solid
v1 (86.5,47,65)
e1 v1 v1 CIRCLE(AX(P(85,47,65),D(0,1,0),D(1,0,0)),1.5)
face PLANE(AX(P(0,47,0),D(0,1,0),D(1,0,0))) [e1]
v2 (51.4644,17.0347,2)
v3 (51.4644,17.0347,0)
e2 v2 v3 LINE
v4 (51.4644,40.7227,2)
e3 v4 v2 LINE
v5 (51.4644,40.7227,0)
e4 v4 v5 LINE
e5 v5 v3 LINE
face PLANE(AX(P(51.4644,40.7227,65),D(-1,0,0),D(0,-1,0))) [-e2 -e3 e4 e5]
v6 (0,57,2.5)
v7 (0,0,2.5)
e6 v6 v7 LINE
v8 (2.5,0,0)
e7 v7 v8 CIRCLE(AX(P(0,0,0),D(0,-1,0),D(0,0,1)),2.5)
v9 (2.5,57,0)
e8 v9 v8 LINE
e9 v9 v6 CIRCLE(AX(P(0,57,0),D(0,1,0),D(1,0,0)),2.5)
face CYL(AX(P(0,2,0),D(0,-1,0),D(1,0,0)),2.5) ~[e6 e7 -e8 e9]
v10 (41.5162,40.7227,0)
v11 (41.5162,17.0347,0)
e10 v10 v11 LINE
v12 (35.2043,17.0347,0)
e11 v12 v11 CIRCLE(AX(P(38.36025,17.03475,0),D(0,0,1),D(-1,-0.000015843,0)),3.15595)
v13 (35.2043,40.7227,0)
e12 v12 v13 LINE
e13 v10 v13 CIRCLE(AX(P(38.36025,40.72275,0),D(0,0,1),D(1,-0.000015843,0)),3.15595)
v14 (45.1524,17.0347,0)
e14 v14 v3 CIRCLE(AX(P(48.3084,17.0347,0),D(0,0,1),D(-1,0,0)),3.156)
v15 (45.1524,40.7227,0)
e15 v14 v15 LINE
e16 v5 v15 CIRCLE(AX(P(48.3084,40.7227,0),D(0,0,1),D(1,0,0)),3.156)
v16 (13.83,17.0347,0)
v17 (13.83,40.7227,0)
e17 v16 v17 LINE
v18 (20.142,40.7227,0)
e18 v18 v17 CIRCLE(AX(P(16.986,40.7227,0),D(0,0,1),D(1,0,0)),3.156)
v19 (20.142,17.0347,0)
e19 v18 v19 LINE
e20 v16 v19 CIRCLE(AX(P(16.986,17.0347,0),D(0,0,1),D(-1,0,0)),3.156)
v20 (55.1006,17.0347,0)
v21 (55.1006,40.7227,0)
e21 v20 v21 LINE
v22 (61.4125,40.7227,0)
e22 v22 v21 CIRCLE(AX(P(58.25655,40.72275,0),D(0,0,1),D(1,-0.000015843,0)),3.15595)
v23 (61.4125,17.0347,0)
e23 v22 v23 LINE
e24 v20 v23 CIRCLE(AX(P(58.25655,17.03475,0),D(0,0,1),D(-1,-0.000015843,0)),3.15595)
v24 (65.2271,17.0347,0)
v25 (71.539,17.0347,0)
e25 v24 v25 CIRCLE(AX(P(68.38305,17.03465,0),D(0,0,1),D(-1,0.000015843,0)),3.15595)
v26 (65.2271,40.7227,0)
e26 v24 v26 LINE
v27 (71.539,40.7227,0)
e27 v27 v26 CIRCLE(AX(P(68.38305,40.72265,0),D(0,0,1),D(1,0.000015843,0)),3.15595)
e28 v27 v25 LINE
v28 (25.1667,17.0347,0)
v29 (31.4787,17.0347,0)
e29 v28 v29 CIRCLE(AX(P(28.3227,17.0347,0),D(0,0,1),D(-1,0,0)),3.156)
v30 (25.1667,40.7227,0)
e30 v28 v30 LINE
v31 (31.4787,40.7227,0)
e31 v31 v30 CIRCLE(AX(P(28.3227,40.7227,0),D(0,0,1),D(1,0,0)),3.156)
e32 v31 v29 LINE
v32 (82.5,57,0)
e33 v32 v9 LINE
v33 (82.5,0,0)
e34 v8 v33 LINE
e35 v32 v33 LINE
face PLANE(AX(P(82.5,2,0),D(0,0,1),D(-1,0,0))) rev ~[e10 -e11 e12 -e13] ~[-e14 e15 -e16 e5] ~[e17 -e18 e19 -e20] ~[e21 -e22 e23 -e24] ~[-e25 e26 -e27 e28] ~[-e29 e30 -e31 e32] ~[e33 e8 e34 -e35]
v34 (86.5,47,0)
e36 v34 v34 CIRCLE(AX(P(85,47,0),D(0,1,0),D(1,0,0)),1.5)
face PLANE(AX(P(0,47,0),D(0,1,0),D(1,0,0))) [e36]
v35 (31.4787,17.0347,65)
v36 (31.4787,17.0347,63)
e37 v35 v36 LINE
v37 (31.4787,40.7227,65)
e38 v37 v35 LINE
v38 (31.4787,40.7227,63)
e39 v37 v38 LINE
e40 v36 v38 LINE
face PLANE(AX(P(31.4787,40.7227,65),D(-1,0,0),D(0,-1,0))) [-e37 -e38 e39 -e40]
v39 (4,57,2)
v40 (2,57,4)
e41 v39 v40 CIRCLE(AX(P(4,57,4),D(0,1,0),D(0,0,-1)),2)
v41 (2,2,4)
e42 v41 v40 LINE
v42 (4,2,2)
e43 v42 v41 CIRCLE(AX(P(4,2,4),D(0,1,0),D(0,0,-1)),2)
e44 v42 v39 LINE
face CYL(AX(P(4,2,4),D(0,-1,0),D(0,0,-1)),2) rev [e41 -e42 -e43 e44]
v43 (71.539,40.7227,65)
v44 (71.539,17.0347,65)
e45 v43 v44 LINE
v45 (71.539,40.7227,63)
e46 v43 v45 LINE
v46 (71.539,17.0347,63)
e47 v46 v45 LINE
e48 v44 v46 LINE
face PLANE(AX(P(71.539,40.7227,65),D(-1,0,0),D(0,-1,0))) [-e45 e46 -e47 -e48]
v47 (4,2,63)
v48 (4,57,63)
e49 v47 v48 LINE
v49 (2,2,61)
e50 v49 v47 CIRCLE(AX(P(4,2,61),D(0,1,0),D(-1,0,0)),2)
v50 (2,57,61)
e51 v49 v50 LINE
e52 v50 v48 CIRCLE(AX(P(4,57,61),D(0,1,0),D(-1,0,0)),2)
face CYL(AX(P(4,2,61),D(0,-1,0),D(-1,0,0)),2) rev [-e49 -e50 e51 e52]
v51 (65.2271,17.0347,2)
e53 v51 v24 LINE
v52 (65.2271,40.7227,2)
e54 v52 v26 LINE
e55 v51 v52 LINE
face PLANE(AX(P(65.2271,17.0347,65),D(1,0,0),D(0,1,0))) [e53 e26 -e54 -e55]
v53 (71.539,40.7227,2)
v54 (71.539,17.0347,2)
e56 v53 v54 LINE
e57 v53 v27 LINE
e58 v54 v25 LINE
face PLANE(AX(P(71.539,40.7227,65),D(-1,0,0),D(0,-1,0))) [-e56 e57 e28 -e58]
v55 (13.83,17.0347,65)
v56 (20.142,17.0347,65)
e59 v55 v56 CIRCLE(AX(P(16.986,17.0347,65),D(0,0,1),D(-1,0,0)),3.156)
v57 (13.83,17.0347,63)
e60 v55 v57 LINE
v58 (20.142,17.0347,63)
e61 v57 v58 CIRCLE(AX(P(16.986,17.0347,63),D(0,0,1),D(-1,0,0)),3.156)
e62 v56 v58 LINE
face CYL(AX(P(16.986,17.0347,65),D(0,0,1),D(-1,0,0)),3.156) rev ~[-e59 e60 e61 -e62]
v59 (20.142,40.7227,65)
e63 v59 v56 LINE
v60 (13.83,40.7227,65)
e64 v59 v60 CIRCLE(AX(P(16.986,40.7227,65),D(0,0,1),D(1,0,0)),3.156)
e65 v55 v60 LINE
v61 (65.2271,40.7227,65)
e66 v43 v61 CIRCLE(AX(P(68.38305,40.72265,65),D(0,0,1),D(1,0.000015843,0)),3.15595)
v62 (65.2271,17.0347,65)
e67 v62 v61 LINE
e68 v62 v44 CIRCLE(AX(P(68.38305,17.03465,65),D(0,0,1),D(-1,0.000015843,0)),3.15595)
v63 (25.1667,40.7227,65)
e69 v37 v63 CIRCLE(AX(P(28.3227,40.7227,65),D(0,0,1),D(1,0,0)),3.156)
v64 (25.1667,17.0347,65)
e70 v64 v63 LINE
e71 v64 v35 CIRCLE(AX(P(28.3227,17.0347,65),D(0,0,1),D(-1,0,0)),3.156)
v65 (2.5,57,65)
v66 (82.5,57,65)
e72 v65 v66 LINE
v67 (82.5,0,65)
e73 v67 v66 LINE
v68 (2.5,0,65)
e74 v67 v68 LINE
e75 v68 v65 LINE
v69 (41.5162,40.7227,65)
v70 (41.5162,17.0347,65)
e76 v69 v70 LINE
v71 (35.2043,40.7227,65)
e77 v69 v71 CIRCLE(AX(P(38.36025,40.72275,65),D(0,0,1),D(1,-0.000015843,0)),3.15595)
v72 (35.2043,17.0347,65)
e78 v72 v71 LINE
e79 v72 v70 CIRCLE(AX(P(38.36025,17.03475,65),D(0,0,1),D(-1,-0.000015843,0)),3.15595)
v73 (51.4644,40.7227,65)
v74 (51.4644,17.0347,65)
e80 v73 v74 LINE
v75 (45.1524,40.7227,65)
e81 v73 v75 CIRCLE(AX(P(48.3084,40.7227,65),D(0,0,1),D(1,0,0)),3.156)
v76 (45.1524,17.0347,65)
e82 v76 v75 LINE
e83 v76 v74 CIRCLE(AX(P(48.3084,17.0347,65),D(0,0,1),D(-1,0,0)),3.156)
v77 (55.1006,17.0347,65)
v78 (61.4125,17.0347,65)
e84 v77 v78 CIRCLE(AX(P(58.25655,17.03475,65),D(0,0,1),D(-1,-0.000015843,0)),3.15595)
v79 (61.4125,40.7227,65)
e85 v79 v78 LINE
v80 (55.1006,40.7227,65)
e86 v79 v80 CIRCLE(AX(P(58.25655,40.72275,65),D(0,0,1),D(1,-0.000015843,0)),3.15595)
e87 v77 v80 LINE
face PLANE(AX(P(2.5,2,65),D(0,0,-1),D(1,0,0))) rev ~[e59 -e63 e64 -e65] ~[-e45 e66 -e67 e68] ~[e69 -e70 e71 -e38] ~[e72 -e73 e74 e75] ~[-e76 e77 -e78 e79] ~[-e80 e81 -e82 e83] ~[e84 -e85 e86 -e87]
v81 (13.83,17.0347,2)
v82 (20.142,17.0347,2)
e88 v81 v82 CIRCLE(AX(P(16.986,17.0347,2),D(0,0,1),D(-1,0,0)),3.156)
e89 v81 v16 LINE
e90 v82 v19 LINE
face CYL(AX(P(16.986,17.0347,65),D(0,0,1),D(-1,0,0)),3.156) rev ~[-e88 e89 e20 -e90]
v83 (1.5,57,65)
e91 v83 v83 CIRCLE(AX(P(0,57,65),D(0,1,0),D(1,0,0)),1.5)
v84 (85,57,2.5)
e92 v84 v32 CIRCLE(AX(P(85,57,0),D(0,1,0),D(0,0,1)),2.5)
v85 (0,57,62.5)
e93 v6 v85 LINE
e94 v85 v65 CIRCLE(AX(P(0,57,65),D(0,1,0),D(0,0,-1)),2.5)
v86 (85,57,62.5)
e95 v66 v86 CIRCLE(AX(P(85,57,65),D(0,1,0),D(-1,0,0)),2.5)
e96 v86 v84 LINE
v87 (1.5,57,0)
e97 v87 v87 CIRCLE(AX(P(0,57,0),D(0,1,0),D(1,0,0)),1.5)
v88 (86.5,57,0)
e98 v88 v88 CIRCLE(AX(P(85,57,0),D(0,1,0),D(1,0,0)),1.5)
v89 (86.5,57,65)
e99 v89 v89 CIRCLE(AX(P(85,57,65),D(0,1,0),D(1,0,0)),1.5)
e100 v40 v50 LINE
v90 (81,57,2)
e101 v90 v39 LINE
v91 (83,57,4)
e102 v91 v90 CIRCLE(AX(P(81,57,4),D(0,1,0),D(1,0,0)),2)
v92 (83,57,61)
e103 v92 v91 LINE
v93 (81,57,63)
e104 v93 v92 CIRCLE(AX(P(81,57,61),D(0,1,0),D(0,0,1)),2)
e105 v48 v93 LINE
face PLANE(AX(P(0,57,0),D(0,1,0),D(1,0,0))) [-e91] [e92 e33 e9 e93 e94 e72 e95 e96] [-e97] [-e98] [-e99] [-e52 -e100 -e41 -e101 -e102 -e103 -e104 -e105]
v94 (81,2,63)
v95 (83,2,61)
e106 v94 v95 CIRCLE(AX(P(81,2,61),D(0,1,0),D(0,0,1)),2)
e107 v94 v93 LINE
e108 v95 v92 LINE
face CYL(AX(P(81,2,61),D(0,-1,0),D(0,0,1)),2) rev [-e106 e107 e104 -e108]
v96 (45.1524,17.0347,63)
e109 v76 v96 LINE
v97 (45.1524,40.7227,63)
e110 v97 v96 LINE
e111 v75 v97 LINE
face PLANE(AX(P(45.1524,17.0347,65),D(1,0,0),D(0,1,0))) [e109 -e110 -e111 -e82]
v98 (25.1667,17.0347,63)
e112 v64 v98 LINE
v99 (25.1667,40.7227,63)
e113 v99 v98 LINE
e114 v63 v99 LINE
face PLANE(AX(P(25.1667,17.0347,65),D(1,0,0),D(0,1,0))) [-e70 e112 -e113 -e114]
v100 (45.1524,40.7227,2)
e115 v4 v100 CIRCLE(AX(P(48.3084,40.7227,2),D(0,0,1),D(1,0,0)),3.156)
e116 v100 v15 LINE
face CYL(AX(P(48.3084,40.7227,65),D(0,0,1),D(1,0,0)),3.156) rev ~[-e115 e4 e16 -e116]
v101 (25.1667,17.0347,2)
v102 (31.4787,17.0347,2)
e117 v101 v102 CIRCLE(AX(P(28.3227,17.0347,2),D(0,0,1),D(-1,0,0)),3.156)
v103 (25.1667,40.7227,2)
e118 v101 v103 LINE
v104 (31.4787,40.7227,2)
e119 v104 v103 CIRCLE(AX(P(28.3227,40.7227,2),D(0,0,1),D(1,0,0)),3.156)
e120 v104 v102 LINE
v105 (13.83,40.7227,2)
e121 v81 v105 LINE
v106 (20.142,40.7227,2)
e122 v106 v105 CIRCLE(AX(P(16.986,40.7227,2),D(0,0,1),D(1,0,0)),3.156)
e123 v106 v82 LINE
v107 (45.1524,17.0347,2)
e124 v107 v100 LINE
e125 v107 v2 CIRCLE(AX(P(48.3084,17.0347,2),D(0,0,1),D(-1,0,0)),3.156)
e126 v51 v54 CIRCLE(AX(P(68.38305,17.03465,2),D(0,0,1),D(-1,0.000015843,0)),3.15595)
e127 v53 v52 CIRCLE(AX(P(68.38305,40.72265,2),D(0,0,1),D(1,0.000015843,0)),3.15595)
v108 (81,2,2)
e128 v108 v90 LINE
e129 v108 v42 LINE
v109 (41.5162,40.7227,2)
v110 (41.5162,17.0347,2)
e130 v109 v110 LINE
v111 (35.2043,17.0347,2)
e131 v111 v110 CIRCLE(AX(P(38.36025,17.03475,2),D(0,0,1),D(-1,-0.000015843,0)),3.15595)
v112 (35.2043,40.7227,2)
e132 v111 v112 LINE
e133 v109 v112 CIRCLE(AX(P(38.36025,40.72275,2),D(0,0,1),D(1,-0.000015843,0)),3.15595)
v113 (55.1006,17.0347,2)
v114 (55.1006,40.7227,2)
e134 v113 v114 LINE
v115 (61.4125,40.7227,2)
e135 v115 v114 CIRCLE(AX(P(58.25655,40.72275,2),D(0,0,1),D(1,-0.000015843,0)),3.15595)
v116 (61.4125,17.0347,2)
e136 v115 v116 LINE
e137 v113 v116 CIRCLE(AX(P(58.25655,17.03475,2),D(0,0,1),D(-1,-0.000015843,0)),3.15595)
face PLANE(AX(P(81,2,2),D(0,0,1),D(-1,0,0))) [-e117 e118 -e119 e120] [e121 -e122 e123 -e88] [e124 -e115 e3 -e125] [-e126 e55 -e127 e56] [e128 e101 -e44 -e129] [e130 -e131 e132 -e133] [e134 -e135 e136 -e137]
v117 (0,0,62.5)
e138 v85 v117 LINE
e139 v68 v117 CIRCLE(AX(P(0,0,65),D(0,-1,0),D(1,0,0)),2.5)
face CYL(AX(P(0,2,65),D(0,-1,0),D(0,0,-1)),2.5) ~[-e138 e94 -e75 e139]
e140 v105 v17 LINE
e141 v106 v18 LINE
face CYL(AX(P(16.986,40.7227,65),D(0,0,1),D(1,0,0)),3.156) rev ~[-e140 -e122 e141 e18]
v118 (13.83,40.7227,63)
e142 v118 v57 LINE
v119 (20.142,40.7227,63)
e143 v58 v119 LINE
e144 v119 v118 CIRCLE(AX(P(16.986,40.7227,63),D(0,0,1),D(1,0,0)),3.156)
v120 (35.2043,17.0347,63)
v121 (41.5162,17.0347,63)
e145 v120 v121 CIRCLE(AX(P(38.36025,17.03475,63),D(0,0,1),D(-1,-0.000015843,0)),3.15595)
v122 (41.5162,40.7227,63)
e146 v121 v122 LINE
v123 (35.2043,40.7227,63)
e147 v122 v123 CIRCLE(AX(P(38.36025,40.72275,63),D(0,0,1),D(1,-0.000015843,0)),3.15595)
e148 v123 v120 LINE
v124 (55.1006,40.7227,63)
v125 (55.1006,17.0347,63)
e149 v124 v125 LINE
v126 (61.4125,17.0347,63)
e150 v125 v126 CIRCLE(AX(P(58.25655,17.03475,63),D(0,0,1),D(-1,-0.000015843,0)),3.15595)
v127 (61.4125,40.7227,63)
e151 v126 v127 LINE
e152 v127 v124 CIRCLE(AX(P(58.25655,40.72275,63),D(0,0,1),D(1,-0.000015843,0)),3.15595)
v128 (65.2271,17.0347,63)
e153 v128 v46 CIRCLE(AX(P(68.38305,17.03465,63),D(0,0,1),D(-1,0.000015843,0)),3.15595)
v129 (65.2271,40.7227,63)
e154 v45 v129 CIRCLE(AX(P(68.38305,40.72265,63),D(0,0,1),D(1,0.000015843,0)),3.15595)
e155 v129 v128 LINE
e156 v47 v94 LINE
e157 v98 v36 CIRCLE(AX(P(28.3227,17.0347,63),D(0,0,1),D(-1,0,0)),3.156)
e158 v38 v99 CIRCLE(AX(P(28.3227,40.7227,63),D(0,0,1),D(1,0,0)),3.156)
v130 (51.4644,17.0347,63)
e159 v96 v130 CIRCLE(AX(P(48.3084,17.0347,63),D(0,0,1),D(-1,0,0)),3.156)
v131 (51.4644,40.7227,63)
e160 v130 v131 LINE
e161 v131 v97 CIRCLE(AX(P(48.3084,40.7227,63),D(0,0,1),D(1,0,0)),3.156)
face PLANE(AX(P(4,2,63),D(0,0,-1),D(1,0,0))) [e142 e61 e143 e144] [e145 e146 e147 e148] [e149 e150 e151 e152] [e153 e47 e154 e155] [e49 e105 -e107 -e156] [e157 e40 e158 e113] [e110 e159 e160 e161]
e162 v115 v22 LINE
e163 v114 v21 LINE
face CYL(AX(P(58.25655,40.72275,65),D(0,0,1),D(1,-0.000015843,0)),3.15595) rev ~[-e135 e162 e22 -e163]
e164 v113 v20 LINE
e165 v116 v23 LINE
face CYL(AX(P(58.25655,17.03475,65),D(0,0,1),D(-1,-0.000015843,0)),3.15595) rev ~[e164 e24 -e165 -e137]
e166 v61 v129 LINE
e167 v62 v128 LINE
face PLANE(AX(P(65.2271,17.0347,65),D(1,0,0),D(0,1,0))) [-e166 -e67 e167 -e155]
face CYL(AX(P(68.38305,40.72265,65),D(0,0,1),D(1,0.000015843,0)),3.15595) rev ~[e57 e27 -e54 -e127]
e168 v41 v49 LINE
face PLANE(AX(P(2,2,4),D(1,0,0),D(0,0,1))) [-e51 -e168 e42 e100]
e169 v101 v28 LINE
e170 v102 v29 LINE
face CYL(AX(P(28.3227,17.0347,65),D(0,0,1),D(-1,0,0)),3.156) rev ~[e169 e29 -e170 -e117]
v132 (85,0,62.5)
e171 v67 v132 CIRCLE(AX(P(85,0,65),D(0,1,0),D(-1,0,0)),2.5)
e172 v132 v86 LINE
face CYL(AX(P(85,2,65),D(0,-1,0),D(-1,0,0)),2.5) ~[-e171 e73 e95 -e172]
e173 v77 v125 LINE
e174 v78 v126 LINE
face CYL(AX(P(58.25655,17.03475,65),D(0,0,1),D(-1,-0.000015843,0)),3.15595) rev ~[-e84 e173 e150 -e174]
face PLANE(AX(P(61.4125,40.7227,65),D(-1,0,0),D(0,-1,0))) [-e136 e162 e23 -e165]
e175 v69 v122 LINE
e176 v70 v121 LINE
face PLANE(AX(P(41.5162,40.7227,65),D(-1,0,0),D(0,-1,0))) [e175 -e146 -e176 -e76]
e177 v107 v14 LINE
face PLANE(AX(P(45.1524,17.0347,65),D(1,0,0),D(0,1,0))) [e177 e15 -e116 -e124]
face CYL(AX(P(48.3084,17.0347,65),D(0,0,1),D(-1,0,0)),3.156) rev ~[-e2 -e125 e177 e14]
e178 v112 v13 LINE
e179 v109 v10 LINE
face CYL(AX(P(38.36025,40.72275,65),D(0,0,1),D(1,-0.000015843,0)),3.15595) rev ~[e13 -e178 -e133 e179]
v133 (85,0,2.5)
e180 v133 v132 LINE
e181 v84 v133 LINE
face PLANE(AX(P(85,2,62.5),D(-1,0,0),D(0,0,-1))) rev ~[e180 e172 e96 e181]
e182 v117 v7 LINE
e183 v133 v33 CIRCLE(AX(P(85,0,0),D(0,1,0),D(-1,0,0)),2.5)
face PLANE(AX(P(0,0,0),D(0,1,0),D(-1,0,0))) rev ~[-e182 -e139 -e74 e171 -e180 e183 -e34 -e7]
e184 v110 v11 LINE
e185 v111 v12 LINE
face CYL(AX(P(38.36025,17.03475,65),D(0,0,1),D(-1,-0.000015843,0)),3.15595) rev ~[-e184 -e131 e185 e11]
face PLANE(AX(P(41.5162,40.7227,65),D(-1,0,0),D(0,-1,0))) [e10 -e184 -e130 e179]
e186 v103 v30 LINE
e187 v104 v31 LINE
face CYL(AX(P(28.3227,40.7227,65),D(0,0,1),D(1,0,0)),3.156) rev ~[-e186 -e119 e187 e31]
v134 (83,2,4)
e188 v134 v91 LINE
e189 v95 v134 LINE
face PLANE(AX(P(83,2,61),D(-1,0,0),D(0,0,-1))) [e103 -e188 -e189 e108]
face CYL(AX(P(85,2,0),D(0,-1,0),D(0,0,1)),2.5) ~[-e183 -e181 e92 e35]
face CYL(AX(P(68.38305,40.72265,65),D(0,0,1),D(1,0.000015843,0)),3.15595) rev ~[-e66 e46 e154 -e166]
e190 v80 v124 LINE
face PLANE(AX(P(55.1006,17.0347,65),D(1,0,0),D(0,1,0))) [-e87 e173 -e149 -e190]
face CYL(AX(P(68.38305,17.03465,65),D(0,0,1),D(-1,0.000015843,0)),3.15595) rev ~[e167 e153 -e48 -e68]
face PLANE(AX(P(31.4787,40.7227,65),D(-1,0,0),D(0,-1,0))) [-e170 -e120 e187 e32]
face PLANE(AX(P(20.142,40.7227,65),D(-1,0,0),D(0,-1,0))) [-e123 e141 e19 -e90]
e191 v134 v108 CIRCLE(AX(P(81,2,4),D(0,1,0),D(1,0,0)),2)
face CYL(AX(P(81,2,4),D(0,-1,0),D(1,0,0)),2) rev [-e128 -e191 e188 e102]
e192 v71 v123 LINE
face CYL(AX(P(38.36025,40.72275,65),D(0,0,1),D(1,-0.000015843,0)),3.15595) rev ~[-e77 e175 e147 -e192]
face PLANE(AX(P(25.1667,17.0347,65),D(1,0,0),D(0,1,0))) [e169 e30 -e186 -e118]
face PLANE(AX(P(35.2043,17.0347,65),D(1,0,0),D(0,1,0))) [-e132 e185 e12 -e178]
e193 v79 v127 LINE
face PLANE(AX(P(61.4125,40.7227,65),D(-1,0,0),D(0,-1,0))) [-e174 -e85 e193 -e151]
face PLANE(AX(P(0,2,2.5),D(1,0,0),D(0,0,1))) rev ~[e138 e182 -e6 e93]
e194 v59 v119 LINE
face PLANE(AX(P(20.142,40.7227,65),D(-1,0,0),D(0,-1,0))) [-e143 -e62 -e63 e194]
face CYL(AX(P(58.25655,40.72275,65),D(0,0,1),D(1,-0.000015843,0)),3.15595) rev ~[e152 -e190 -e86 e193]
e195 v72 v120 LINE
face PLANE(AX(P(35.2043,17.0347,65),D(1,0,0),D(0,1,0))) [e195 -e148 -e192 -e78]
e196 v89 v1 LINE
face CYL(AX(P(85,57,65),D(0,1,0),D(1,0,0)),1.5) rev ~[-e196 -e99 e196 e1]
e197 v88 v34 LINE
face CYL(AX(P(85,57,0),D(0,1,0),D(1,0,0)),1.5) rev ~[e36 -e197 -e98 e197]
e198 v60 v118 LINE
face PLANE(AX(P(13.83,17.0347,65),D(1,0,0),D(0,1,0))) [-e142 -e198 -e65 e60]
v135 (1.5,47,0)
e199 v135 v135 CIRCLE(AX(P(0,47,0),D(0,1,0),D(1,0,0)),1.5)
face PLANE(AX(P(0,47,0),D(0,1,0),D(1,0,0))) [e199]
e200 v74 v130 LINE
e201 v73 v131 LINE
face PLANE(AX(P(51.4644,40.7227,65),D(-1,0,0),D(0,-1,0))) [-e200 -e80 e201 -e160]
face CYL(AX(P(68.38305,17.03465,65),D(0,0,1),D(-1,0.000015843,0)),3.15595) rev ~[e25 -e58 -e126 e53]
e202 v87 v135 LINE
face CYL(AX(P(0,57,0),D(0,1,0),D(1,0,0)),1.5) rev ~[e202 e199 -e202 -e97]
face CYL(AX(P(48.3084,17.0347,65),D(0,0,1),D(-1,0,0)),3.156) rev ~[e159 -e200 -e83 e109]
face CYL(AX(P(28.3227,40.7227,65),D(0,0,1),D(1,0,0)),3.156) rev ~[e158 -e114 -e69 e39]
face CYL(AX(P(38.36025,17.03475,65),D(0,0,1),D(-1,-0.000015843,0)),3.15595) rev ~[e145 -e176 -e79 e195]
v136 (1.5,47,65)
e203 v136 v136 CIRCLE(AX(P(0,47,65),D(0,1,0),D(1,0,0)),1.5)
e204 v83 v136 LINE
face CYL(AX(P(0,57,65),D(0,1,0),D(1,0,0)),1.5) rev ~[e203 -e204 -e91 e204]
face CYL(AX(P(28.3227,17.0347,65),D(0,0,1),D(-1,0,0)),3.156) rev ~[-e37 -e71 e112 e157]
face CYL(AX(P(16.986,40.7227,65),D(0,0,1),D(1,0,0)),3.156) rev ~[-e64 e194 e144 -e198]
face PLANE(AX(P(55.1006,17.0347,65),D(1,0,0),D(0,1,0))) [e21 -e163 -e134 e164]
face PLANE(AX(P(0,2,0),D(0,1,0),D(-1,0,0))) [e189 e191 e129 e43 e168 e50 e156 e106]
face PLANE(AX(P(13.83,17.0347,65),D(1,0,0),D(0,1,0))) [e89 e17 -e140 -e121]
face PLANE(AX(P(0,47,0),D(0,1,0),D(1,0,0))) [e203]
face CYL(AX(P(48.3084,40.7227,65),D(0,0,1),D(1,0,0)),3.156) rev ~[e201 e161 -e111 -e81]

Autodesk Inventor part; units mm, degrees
ref_plane "YZ Plane" through (0, 0, 0) normal (1, 0, 0) x (0, 1, 0)
ref_plane "XZ Plane" through (0, 0, 0) normal (0, 1, 0) x (-1, 0, 0)
ref_plane "XY Plane" through (0, 0, 0) normal (0, 0, 1) x (1, 0, 0)
sketch "Sketch1" plane through (0, 0, 0) normal (0, 1, 0) x (-1, 0, 0)
  line L0 (0, 0) -> (-85, 0)
  line L1 (-85, 0) -> (-85, 65)
  line L2 (-85, 65) -> (0, 65)
  line L3 (0, 65) -> (0, 0)
  line L4 (-4, 2) -> (-81, 2)
  line L5 (-83, 4) -> (-83, 61)
  line L6 (-81, 63) -> (-4, 63)
  line L7 (-2, 61) -> (-2, 4)
  circle A0 centre (0, 0) radius 2.5
  circle A1 centre (0, 65) radius 2.5
  circle A2 centre (-85, 65) radius 2.5
  circle A3 centre (-85, 0) radius 2.5
  arc A4 (-4, 2) -> (-2, 4) centre (-4, 4) ccw
  arc A5 (-83, 4) -> (-81, 2) centre (-81, 4) ccw
  arc A6 (-81, 63) -> (-83, 61) centre (-81, 61) ccw
  arc A7 (-2, 61) -> (-4, 63) centre (-4, 61) ccw
  point P0 (0, 62.5)
  point P1 (-2.5, 65)
  point P2 (-82.5, 65)
  point P3 (-85, 62.5)
  point P4 (-85, 2.5)
  point P5 (-82.5, 0)
  point P6 (-2.5, 0)
  point P7 (0, 2.5)
  dimension "d0" = 85
  dimension "d1" = 65
  dimension "d14" = 5
  dimension "d15" = 5
  dimension "d16" = 5
  dimension "d17" = 5
  dimension "d18" = 2
extrude "Extrusion1" add sketch "Sketch1" along normal blind 2 contours A3 L1 L0 | A3 L1 A2 L2 A1 L3 A0 L0 | L0 L1 A3 | A0 L3 L0 | L0 L3 A0 | A2 L2 L1 | L1 L2 A2 | A1 L2 L3 | L3 L2 A1 | L4 A5 L5 A6 L6 A7 L7 A4
sketch "Sketch2" plane through (0, 2, 0) normal (0, 1, 0) x (1, 0, 0)
  line L0 (2.5, -65) -> (82.5, -65) projected
  arc A0 (82.5, -65) -> (85, -62.5) centre (85, -65) ccw projected
  line L1 (85, -62.5) -> (85, -2.5) projected
  arc A1 (85, -2.5) -> (82.5, 0) centre (85, 0) ccw projected
  line L2 (82.5, 0) -> (2.5, 0) projected
  arc A2 (2.5, 0) -> (0, -2.5) centre (0, 0) ccw projected
  line L3 (0, -2.5) -> (0, -62.5) projected
  arc A3 (0, -62.5) -> (2.5, -65) centre (0, -65) ccw projected
  line L4 (81, -2) -> (4, -2)
  line L5 (2, -4) -> (2, -61)
  line L6 (4, -63) -> (81, -63)
  line L7 (83, -61) -> (83, -4)
  arc A4 (2, -61) -> (4, -63) centre (4, -61) ccw
  arc A5 (4, -2) -> (2, -4) centre (4, -4) ccw
  arc A6 (81, -63) -> (83, -61) centre (81, -61) ccw
  arc A7 (83, -4) -> (81, -2) centre (81, -4) ccw
  dimension "d25" = 2
extrude "Extrusion2" add sketch "Sketch2" along normal blind 55
sketch "Sketch3" plane through (2.5, 0, 65) normal (0, 0, 1) x (1, 0, 0)
  line L0 (11.33, 17.0347) -> (11.33, 40.7227)
  line L1 (17.642, 40.7227) -> (17.642, 17.0347)
  arc A0 (11.33, 17.0347) -> (17.642, 17.0347) centre (14.486, 17.0347) ccw
  arc A1 (17.642, 40.7227) -> (11.33, 40.7227) centre (14.486, 40.7227) ccw
  line L2 (22.6667, 17.0347) -> (22.6667, 40.7227)
  line L3 (28.9787, 40.7227) -> (28.9787, 17.0347)
  arc A2 (22.6667, 17.0347) -> (28.9787, 17.0347) centre (25.8227, 17.0347) ccw
  arc A3 (28.9787, 40.7227) -> (22.6667, 40.7227) centre (25.8227, 40.7227) ccw
  line L4 (32.7043, 17.0347) -> (32.7043, 40.7227)
  line L5 (39.0162, 40.7227) -> (39.0162, 17.0347)
  arc A4 (32.7043, 17.0347) -> (39.0162, 17.0347) centre (35.8602, 17.0347) ccw
  arc A5 (39.0162, 40.7227) -> (32.7043, 40.7227) centre (35.8602, 40.7227) ccw
  line L6 (42.6524, 17.0347) -> (42.6524, 40.7227)
  line L7 (48.9644, 40.7227) -> (48.9644, 17.0347)
  arc A6 (42.6524, 17.0347) -> (48.9644, 17.0347) centre (45.8084, 17.0347) ccw
  arc A7 (48.9644, 40.7227) -> (42.6524, 40.7227) centre (45.8084, 40.7227) ccw
  line L8 (52.6006, 17.0347) -> (52.6006, 40.7227)
  line L9 (58.9125, 40.7227) -> (58.9125, 17.0347)
  arc A8 (52.6006, 17.0347) -> (58.9125, 17.0347) centre (55.7565, 17.0347) ccw
  arc A9 (58.9125, 40.7227) -> (52.6006, 40.7227) centre (55.7565, 40.7227) ccw
  line L10 (62.7271, 17.0347) -> (62.7271, 40.7227)
  line L11 (69.039, 40.7227) -> (69.039, 17.0347)
  arc A10 (62.7271, 17.0347) -> (69.039, 17.0347) centre (65.8831, 17.0347) ccw
  arc A11 (69.039, 40.7227) -> (62.7271, 40.7227) centre (65.8831, 40.7227) ccw
  point P0 (-2.5, 0)
  point P1 (14.486, 28.8787)
  point P2 (25.8227, 28.8787)
  point P3 (35.8602, 28.8787)
  point P4 (45.8084, 28.8787)
  point P5 (55.7565, 28.8787)
  point P6 (65.8831, 28.8787)
extrude "Extrusion3" cut sketch "Sketch3" against normal blind 70
sketch "Sketch4" plane through (0, 0, 2.5) normal (-1, 0, 0) x (0, 0, 1)
  line L0 (0, 0) -> (60, 0) projected
  line L1 (60, 0) -> (60, 57) projected
  line L2 (0, 57) -> (60, 57) projected
  line L3 (0, 0) -> (0, 57) projected
  line L4 (0, 28.5) -> (10, 28.5)
  line L5 (60, 28.5) -> (49.7848, 28.5)
  point P0 (-2.5, 0)
  dimension "d44" = 10
sketch "Sketch6" plane through (0, 57, 0) normal (0, 1, 0) x (1, 0, 0)
  arc A0 (0, -62.5) -> (2.5, -65) centre (0, -65) ccw projected
  line L0 (81, -63) -> (4, -63) projected
  line L1 (2, -61) -> (2, -4) projected
  circle A1 centre (0, -65) radius 1.5
  line L2 (45.4192, -32.5) -> (-3.1549, -32.5)
  circle A2 centre (0, 0) radius 1.5
  circle A3 centre (85, -65) radius 1.5
  circle A4 centre (85, 0) radius 1.5
  dimension "d45" = 3
  dimension "d48" = 65
  dimension "d51" = 85
extrude "Extrusion4" cut sketch "Sketch6" against normal blind 10
properties part number "Body_Bottom"
